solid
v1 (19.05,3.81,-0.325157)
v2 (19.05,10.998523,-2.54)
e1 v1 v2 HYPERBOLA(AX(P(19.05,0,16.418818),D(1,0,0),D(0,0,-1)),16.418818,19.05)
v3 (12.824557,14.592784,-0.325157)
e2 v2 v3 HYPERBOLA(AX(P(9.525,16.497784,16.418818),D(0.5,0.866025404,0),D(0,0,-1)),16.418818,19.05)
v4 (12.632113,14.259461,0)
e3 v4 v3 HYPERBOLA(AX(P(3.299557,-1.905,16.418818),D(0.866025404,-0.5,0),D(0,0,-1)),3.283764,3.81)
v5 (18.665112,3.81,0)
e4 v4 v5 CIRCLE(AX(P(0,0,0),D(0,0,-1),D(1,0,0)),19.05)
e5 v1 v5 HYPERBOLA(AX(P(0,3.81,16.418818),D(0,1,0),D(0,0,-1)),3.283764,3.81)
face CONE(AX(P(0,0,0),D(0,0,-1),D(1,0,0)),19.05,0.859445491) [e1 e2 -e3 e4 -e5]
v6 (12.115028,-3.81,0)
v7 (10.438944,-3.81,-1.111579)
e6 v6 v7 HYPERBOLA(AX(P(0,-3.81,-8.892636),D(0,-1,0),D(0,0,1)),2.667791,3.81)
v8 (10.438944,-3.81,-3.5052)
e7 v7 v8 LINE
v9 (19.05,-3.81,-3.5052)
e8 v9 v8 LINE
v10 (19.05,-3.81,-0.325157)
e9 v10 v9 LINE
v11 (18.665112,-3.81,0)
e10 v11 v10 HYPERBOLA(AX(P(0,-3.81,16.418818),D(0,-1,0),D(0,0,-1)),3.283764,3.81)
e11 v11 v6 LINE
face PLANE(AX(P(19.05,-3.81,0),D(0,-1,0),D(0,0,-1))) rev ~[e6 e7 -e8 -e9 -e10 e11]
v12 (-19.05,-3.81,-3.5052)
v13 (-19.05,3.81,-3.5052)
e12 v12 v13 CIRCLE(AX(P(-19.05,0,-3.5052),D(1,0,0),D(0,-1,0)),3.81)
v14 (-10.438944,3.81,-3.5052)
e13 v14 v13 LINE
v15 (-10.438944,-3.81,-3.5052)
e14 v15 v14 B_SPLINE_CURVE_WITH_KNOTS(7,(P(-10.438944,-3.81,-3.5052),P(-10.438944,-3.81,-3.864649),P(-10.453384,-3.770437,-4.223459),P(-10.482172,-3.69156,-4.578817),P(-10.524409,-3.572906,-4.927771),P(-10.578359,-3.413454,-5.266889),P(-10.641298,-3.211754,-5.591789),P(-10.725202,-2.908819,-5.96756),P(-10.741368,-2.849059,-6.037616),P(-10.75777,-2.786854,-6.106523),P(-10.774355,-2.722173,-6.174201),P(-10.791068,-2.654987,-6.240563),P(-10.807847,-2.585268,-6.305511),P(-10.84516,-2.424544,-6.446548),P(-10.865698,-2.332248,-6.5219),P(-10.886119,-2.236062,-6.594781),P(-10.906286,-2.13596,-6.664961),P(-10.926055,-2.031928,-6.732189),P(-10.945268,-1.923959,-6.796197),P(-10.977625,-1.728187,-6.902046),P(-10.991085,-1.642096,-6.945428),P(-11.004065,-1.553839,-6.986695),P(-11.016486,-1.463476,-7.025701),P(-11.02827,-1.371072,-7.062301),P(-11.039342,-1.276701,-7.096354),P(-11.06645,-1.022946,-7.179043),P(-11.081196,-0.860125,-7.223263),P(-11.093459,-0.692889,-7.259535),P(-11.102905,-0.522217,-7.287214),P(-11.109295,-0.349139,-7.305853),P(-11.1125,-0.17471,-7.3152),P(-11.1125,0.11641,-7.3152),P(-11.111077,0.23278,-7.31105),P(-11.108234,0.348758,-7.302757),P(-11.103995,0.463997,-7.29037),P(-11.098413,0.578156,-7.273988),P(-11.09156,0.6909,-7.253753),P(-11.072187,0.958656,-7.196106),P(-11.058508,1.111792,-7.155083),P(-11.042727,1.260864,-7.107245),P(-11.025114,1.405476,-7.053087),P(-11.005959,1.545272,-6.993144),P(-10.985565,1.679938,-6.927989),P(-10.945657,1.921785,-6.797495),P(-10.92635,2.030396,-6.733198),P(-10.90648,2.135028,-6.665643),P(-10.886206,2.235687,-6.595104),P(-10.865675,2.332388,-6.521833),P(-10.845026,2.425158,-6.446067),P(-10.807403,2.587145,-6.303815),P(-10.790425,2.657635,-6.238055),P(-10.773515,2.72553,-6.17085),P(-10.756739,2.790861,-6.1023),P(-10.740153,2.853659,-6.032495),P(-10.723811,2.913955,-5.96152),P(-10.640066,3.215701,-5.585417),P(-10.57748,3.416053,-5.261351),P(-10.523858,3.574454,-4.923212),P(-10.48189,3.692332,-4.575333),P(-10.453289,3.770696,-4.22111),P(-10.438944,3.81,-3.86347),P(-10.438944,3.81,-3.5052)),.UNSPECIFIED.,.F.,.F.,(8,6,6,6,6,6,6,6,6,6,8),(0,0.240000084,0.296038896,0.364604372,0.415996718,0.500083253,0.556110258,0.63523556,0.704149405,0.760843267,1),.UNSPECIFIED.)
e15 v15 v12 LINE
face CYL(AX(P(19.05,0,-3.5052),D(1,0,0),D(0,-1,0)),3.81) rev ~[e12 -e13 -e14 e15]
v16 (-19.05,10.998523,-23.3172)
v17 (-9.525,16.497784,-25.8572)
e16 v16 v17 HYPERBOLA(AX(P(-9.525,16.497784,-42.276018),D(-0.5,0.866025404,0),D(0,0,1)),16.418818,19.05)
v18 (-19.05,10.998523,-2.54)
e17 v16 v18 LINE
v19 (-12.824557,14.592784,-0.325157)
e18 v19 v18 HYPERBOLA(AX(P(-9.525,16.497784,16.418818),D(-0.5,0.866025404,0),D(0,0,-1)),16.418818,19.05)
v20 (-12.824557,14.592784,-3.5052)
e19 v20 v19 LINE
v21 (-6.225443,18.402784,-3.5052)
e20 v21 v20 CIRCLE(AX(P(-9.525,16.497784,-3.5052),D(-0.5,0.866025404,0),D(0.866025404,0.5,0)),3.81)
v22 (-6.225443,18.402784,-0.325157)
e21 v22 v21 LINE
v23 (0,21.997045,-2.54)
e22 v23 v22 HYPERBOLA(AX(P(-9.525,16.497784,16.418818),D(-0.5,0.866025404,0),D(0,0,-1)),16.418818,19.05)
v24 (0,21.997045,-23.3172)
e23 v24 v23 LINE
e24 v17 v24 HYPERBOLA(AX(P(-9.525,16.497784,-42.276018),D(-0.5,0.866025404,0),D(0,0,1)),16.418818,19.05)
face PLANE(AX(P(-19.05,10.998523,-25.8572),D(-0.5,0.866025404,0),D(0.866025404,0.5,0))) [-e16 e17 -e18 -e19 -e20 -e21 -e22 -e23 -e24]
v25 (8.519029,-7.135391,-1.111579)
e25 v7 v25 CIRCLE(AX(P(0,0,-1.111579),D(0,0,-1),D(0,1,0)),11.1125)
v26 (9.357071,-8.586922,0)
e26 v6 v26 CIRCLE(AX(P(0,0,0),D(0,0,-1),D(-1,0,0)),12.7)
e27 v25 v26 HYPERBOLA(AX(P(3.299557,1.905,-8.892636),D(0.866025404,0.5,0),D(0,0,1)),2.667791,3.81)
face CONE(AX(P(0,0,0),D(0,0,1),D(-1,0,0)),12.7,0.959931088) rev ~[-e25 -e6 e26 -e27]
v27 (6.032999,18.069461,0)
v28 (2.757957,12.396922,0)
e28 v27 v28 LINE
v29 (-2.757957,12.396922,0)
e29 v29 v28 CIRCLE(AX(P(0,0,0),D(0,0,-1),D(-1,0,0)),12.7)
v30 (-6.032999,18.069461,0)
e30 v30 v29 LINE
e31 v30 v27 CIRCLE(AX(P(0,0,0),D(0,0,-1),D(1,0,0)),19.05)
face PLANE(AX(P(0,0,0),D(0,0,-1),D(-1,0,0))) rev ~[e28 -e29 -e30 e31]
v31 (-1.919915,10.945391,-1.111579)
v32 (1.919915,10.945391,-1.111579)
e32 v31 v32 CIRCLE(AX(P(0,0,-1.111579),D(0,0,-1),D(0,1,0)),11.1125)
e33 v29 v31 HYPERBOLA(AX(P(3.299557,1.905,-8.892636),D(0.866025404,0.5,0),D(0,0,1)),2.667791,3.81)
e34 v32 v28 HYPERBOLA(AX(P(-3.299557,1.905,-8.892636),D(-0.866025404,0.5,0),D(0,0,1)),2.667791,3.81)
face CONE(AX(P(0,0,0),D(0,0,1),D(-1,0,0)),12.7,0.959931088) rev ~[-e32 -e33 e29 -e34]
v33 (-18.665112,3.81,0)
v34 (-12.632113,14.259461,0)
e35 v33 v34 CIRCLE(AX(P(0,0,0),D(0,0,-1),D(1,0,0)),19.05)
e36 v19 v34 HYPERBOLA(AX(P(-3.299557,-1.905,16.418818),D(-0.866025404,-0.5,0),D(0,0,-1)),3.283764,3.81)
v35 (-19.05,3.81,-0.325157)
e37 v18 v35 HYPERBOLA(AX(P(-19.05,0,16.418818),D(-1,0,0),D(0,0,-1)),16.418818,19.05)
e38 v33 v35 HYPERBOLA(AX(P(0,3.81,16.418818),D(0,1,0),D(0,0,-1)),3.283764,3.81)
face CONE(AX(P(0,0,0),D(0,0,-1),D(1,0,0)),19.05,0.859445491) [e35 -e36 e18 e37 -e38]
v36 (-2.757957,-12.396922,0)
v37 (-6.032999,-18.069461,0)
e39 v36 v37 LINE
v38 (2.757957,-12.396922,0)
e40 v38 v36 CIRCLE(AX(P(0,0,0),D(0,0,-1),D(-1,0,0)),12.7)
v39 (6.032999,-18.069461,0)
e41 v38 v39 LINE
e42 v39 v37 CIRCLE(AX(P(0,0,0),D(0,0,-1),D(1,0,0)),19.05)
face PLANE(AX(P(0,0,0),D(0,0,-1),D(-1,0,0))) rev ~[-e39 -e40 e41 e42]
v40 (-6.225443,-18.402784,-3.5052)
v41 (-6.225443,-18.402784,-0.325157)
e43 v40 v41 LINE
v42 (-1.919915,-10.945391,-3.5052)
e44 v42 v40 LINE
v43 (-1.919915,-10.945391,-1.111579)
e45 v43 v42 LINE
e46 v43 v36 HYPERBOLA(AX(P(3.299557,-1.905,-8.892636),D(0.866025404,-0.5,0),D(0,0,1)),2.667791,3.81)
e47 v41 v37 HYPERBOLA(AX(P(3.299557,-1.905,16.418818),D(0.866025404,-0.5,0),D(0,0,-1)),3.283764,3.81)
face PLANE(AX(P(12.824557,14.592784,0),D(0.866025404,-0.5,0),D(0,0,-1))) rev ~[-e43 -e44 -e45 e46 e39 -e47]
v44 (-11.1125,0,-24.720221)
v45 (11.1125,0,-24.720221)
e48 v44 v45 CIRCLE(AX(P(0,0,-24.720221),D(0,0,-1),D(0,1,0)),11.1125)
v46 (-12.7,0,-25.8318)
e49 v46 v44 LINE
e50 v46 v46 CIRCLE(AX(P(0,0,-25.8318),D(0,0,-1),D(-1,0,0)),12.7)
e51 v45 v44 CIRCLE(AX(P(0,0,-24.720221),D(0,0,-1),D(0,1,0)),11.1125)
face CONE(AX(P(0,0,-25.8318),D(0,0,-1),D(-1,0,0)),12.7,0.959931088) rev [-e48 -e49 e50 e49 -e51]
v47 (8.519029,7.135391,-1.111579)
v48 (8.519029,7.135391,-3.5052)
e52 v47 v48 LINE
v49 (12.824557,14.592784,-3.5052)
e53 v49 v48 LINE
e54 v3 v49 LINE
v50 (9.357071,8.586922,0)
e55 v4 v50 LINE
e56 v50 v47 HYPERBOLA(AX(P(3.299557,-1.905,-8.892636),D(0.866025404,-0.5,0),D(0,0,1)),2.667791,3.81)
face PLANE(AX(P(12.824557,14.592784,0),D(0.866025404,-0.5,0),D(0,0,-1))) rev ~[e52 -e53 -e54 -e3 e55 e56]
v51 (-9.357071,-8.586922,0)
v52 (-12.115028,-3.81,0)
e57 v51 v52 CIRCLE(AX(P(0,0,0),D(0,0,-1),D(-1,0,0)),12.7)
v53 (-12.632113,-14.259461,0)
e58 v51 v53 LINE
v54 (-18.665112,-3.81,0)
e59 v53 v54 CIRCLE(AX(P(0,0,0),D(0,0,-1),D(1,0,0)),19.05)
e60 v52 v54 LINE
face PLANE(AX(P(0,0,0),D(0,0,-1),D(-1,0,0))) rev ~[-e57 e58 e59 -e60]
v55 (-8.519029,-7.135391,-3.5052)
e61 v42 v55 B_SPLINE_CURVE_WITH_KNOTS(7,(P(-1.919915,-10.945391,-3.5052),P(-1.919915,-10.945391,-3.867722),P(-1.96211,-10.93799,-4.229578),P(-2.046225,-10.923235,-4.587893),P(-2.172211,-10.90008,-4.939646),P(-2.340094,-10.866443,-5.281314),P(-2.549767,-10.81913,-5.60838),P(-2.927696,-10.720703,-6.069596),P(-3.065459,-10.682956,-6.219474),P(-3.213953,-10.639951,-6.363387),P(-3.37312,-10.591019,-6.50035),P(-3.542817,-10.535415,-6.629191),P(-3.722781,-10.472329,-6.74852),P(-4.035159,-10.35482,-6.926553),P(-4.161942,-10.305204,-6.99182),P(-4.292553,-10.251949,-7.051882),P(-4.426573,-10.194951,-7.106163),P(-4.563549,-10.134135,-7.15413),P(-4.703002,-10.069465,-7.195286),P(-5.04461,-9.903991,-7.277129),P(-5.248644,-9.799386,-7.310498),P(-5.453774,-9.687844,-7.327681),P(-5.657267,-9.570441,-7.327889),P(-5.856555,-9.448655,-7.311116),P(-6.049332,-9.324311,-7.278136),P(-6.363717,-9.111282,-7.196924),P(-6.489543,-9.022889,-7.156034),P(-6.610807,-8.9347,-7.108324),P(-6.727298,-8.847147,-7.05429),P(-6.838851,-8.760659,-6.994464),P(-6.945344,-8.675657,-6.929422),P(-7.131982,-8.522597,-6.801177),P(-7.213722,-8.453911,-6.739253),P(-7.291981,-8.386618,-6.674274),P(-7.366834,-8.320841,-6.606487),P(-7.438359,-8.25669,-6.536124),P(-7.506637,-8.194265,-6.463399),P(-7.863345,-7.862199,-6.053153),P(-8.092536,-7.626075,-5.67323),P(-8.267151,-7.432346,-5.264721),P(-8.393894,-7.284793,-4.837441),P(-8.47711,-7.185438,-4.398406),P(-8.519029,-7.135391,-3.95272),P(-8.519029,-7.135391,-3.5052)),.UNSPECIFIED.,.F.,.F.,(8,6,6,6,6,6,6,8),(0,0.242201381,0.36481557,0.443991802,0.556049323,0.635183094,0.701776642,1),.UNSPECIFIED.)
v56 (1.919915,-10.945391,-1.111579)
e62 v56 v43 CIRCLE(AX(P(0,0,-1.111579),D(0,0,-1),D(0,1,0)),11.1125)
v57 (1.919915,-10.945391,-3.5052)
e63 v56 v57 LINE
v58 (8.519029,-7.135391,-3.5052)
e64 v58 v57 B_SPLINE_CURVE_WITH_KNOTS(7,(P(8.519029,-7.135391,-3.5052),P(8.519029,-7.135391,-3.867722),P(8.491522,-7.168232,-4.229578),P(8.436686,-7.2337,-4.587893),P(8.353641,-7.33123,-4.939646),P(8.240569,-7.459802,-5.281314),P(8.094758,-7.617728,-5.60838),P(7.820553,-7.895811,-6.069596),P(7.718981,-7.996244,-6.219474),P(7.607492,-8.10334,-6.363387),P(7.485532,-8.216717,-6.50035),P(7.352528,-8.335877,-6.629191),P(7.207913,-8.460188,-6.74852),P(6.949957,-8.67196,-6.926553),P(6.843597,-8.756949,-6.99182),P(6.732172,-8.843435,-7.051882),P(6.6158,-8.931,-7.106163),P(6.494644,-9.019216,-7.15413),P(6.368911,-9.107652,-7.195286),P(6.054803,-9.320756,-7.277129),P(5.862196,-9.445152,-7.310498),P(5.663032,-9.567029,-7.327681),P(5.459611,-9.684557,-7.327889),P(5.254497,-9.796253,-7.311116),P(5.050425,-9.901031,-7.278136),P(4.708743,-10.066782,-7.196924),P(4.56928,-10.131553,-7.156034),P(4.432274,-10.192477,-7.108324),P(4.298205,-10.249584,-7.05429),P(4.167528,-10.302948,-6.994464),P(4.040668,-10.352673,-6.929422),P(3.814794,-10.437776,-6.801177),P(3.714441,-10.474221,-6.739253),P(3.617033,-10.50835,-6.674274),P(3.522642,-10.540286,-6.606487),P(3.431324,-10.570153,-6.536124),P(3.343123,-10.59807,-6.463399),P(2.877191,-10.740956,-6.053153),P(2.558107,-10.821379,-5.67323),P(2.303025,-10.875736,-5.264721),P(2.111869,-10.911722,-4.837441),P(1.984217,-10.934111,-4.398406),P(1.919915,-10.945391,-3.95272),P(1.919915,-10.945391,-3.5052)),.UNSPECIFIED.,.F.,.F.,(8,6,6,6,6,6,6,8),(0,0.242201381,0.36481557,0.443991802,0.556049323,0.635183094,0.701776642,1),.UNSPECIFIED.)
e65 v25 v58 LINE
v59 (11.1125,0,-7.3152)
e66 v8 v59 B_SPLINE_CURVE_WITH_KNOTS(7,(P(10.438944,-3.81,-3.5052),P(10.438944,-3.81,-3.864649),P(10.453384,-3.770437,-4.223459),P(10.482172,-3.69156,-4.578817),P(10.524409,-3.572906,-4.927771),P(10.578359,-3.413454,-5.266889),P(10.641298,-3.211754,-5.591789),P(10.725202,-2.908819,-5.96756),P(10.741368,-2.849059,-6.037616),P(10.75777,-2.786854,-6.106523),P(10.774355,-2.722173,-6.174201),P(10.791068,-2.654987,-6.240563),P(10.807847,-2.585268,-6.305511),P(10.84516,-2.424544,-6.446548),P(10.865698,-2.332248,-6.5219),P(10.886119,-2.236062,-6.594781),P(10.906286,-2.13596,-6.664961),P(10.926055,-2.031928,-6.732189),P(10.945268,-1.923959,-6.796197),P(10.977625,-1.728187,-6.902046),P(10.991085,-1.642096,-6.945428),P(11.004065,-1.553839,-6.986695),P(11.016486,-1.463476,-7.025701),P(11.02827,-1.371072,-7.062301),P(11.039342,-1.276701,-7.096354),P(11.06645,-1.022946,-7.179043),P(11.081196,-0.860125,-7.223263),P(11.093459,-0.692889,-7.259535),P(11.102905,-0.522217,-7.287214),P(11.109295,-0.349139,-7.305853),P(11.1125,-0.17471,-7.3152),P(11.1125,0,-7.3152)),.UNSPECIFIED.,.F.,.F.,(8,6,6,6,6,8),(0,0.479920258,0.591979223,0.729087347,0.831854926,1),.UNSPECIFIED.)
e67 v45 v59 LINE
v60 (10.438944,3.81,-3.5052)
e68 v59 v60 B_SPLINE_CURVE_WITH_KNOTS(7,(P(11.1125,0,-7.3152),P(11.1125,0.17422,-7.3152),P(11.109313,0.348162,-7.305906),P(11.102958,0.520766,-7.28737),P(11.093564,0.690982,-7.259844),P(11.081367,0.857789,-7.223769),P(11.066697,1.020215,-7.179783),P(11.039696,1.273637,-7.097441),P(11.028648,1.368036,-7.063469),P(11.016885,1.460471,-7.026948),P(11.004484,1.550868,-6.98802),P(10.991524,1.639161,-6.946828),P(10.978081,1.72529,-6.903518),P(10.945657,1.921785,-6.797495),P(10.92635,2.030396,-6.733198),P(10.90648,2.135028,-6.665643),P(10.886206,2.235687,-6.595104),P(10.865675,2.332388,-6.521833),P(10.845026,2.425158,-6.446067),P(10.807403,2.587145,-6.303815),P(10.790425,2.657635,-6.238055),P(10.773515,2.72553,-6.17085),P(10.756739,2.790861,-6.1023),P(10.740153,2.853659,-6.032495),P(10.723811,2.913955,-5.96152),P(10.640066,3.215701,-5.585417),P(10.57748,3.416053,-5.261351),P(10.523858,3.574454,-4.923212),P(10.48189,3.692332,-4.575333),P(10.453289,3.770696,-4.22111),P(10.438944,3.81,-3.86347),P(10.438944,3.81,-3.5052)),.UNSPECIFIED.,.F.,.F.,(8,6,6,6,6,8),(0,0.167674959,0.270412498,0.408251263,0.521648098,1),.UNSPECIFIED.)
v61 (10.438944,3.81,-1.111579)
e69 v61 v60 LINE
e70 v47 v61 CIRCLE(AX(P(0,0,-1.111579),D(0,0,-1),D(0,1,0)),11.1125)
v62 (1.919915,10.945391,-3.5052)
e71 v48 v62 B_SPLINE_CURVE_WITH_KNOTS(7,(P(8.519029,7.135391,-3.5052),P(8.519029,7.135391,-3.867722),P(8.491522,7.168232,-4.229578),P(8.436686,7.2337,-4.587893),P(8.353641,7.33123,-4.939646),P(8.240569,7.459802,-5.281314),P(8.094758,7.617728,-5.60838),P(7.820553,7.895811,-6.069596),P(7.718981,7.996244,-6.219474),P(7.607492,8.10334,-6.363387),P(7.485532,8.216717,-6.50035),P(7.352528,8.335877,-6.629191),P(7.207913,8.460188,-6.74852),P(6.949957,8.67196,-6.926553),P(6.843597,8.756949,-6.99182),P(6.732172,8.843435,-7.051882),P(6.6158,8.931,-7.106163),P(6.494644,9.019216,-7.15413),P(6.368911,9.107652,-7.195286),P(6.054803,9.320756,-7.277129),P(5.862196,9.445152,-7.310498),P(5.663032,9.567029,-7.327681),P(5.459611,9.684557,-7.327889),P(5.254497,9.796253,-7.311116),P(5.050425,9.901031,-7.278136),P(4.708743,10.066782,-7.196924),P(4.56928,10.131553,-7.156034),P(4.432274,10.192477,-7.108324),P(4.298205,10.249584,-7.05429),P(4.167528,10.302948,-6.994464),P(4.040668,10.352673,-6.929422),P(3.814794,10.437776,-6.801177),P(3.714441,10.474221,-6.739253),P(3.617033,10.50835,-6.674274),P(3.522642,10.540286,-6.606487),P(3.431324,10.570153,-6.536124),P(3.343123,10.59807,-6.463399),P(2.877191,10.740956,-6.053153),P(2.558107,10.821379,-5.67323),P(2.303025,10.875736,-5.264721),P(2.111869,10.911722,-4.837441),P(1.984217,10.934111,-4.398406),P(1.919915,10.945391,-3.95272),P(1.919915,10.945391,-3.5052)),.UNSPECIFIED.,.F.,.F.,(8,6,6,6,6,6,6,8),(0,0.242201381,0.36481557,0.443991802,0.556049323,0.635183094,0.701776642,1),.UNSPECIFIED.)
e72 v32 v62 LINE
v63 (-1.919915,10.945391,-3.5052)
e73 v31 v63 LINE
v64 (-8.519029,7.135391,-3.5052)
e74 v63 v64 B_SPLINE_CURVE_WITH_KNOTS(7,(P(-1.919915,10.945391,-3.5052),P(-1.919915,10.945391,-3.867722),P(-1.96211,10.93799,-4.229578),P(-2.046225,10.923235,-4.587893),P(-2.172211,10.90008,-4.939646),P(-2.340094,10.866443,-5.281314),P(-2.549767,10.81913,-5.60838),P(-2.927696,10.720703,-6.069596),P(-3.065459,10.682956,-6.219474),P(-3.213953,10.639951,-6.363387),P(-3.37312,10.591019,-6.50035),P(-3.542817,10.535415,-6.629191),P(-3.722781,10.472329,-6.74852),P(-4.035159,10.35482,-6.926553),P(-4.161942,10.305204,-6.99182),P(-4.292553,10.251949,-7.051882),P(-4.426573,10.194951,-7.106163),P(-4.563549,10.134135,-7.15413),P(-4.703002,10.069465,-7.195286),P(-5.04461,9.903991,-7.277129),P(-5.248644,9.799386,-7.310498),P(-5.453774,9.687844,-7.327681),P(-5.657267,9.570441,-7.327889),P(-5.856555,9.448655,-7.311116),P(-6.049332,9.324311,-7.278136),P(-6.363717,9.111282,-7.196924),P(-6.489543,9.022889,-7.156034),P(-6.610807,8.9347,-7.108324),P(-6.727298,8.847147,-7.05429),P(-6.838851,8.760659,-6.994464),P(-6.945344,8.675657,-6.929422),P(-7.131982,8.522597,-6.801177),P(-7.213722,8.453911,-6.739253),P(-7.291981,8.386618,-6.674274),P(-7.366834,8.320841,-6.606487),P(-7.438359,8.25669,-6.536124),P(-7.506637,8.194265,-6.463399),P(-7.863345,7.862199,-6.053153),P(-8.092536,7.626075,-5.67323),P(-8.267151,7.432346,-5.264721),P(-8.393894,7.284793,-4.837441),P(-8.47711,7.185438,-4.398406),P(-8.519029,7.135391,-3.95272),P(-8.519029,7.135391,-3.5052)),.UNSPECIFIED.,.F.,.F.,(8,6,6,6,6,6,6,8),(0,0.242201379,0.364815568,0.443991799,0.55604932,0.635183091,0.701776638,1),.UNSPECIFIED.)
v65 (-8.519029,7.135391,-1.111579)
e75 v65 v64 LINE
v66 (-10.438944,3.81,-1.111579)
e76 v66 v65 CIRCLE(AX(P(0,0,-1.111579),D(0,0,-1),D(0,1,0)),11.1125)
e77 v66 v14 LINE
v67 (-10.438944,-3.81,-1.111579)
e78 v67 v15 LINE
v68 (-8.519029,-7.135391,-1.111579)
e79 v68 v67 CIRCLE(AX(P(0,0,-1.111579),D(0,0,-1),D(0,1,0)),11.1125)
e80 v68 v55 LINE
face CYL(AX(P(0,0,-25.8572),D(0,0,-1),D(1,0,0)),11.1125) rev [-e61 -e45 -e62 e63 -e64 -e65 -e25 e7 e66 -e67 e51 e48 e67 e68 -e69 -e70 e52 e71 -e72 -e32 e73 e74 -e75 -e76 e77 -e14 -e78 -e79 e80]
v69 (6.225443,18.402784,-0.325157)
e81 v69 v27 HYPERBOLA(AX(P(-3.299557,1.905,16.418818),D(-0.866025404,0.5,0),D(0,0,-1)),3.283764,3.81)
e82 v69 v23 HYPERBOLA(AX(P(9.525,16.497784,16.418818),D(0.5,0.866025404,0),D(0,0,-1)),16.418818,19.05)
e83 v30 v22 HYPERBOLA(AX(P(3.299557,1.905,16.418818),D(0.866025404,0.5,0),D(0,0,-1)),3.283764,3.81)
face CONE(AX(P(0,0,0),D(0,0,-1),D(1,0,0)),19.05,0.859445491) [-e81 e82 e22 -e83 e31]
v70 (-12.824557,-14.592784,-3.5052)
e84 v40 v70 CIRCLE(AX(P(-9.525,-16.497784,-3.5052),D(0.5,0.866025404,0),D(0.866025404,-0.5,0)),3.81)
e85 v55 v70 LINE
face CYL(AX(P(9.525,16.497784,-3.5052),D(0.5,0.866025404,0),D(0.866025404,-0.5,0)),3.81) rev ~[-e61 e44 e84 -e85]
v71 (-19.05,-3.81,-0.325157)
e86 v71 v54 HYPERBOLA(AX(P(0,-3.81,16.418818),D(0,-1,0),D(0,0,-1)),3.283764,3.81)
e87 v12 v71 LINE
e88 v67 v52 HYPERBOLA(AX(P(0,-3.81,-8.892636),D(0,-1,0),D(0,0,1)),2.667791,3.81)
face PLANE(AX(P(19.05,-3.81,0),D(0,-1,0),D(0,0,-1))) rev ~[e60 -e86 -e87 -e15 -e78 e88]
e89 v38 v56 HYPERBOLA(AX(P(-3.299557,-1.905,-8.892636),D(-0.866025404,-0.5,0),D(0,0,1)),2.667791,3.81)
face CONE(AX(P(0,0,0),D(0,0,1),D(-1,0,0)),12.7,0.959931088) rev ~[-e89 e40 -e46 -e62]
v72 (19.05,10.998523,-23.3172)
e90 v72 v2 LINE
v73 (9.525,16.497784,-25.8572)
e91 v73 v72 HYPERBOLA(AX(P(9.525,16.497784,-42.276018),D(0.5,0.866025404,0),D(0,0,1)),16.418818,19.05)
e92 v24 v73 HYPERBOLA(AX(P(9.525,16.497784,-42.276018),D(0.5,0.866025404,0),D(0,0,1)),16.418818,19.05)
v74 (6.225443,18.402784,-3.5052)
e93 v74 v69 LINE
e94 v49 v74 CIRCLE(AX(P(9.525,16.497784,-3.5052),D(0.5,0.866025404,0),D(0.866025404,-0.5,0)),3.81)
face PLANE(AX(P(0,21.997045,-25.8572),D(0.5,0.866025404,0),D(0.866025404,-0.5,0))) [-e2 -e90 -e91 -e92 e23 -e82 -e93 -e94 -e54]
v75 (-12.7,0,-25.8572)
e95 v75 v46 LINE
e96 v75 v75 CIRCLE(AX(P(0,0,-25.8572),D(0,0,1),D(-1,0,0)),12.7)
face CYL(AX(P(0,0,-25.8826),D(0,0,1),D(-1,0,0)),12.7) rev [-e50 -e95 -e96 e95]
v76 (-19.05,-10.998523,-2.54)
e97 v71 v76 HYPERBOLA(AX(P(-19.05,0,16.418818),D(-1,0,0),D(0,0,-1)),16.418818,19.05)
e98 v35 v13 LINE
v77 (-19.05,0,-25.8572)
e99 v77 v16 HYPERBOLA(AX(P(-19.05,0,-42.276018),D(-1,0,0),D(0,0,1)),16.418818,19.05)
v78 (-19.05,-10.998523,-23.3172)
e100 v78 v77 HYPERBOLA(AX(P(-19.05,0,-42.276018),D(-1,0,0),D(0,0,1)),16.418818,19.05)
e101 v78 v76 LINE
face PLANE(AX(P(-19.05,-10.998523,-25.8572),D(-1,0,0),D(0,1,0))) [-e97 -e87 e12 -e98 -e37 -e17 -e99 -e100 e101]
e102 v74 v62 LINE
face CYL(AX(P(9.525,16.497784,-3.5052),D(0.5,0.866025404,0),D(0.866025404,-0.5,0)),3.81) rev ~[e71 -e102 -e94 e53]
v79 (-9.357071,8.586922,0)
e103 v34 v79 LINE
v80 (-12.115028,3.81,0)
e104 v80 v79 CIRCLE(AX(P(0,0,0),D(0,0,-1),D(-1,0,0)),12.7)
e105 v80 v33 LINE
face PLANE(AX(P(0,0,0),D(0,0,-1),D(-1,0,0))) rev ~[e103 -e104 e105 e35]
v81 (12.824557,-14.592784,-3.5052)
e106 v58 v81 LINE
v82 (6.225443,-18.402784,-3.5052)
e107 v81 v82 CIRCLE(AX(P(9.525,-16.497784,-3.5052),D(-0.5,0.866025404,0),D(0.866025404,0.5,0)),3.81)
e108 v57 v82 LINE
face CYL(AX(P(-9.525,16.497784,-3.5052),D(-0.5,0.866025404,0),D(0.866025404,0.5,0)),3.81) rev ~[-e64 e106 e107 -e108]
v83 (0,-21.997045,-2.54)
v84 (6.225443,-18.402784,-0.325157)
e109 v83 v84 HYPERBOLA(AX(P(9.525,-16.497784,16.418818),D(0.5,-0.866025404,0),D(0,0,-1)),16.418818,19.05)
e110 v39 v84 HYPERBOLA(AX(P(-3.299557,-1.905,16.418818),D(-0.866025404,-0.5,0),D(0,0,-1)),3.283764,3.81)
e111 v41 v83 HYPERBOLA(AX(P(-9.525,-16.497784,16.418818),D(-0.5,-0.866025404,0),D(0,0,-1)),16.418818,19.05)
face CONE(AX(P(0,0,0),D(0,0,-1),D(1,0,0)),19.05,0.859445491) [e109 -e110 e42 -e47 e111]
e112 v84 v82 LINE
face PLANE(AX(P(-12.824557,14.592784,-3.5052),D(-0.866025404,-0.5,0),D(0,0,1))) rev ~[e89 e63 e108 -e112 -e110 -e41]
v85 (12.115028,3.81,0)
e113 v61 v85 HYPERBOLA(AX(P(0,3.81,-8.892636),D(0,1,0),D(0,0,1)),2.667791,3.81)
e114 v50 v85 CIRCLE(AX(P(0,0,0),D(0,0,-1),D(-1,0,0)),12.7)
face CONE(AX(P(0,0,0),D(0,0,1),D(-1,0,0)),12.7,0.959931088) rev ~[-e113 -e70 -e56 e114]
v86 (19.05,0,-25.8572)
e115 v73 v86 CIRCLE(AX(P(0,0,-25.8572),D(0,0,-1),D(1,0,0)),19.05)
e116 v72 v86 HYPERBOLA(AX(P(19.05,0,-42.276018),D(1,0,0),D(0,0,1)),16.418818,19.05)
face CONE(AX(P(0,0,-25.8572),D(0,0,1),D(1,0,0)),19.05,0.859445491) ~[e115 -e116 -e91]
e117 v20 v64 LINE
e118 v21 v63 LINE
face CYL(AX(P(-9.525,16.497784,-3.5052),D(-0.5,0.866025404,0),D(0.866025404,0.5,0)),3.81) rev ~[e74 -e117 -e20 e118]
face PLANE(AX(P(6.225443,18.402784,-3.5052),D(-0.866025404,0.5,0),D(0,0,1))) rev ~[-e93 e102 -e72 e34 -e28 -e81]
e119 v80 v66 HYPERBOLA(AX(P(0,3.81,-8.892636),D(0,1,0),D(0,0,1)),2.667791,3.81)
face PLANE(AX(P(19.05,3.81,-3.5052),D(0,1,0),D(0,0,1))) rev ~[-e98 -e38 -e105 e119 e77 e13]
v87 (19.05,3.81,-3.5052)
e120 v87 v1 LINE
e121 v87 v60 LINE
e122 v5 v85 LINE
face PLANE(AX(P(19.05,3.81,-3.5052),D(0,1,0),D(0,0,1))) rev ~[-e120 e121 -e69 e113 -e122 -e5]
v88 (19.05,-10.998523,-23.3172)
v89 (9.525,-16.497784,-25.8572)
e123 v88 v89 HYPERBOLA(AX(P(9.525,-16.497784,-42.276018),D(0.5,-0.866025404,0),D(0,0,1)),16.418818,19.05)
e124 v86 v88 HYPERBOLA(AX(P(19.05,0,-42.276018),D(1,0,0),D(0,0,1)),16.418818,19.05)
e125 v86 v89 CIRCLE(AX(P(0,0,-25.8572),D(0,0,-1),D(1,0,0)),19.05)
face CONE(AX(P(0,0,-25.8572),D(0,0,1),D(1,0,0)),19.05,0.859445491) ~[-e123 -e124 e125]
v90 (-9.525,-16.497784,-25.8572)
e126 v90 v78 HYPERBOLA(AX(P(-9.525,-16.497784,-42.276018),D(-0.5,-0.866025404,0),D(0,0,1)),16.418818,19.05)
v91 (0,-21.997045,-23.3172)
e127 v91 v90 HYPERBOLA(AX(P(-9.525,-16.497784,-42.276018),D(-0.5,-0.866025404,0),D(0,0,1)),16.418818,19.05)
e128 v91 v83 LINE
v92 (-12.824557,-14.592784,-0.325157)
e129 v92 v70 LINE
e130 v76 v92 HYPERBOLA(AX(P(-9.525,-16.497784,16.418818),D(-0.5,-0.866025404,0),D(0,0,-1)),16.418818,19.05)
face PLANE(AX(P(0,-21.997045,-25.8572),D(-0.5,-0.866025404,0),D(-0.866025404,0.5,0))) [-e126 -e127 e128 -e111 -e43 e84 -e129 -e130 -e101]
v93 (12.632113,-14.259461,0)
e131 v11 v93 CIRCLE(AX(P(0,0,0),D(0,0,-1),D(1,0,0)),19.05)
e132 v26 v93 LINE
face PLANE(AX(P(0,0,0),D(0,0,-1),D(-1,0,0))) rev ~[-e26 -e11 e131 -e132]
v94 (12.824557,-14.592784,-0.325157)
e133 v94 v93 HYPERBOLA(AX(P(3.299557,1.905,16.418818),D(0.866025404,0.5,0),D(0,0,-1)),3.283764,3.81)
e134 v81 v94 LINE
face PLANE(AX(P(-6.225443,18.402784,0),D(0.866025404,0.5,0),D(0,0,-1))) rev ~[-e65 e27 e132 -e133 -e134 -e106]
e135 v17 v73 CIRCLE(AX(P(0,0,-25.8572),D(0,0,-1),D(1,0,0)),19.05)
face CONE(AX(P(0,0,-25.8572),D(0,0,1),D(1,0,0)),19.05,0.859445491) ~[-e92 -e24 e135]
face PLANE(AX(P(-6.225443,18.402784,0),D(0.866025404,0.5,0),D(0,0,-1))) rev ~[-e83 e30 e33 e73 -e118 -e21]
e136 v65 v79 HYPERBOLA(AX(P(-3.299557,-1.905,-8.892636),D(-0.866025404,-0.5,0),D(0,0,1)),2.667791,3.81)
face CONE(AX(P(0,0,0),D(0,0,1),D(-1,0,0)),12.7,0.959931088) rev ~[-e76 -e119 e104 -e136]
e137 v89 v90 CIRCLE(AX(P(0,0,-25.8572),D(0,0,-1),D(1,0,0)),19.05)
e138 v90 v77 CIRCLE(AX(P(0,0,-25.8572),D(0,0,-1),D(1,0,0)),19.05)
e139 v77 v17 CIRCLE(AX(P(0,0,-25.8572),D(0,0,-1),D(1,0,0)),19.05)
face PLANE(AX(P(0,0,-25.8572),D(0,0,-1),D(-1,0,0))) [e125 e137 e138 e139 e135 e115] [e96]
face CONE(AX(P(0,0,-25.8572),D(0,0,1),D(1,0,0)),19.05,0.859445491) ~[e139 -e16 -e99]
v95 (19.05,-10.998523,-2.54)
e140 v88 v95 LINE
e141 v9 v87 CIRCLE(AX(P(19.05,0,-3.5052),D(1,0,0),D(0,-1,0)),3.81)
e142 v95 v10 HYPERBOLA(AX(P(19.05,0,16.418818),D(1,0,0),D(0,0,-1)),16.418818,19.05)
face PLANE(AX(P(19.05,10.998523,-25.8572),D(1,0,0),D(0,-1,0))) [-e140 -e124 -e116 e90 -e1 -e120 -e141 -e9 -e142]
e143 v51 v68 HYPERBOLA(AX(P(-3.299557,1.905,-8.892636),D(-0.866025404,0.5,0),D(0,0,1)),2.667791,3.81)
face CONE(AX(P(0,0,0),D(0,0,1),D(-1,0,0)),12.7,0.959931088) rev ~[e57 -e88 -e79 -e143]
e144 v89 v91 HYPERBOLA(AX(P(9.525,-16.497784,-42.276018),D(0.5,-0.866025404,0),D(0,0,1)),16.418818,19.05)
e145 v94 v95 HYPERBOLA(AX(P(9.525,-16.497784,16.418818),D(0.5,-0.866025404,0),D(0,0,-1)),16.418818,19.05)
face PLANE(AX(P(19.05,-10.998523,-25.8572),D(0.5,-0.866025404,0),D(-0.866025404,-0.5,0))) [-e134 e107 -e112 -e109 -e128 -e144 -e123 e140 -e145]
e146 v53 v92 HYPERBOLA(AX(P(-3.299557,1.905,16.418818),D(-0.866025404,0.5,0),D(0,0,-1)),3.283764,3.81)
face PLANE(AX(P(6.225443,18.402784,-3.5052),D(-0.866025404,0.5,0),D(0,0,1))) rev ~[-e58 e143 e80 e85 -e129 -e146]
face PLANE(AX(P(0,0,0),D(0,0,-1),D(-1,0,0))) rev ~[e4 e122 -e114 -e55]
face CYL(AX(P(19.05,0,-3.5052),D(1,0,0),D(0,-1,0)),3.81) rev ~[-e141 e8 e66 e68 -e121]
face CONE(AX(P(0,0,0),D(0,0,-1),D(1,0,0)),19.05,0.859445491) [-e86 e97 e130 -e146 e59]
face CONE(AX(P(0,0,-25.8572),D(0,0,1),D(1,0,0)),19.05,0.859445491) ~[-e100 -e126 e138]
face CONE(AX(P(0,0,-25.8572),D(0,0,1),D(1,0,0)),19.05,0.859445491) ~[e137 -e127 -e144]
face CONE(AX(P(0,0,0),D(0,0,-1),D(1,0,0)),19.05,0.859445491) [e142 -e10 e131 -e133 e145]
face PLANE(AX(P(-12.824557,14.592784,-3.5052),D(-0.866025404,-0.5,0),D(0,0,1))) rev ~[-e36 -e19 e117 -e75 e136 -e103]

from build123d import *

# Parameters (mm, degrees)
BASENUT_START     = -25.8572
BASENUTSKE_R      = 11.1125
BASENUT_DEPTH     = 25.8572
SLOT_DEPTH        = 52.030136114
SLOTPATTERN_COUNT = 3
SLOTPATTERN_ANGLE = 120


with BuildPart() as part:
    # BaseNutSke → BaseNut (new body)
    with BuildSketch(Plane.XY.offset(BASENUT_START)):
        Polygon((19.05, 10.998522628), (19.05, -10.998522628), (0, -21.997045256), (-19.05, -10.998522628), (-19.05, 10.998522628), (0, 21.997045256), align=None)
        Circle(BASENUTSKE_R, mode=Mode.SUBTRACT)
    extrude(amount=BASENUT_DEPTH)

    # Sketch4 → Slot (cut, through all)
    with BuildSketch(Plane(origin=(19.05, 0, 0), x_dir=(0, 0, -1), z_dir=(1, 0, 0))):
        with BuildLine():
            Line((3.5052, 3.81), (0, 3.81))
            Line((0, 3.81), (0, -3.81))
            Line((0, -3.81), (3.5052, -3.81))
            ThreePointArc((3.5052, -3.81), (7.3152, 0), (3.5052, 3.81))
        make_face()
    slot = extrude(amount=-SLOT_DEPTH, mode=Mode.SUBTRACT)

    # SlotPattern: Slot ×3 about axis
    slotpattern_axis = Axis((0, 0, 0), (0, 0, 1))
    for i in range(1, SLOTPATTERN_COUNT):
        add(slot.rotate(slotpattern_axis, i * SLOTPATTERN_ANGLE / (SLOTPATTERN_COUNT - 1)), mode=Mode.SUBTRACT)

    # Sketch3 → Double-Chamfer (revolve, cut)
    with BuildSketch(Plane(origin=(0, 0, 0), x_dir=(0, 0, -1), z_dir=(1, 0, 0)), mode=Mode.PRIVATE) as double_chamfer_sk:
        Polygon((25.8572, 19.05), (23.3172, 21.997045256), (23.3172, 34.697045256), (38.5572, 34.697045256), (38.5572, 19.05), align=None)
        Polygon((2.54, 21.997045256), (2.54, 34.697045256), (-12.7, 34.697045256), (-12.7, 19.05), (0, 19.05), align=None)
    revolve(double_chamfer_sk.sketch.rotate(Axis((0, 0, 0), (0, 0, -1)), 90), axis=Axis((0, 0, 0), (0, 0, -1)), mode=Mode.SUBTRACT)

    # EndChamferSketch → EndChamfer (revolve, cut)
    with BuildSketch(Plane(origin=(0, 0, 0), x_dir=(0, 0, -1), z_dir=(1, 0, 0)), mode=Mode.PRIVATE) as endchamfer_sk:
        Polygon((25.8318, 12.7), (24.609062586, 10.95375), (25.8826, 10.95375), (25.8826, 12.7), align=None)
        Polygon((-0.0508, 12.7), (0, 12.7), (1.222737414, 10.95375), (-0.0508, 10.95375), align=None)
    revolve(endchamfer_sk.sketch.rotate(Axis((0, 0, -25.037505729), (0, 0, -1)), 270), axis=Axis((0, 0, -25.037505729), (0, 0, -1)), mode=Mode.SUBTRACT)


solid = part.part
